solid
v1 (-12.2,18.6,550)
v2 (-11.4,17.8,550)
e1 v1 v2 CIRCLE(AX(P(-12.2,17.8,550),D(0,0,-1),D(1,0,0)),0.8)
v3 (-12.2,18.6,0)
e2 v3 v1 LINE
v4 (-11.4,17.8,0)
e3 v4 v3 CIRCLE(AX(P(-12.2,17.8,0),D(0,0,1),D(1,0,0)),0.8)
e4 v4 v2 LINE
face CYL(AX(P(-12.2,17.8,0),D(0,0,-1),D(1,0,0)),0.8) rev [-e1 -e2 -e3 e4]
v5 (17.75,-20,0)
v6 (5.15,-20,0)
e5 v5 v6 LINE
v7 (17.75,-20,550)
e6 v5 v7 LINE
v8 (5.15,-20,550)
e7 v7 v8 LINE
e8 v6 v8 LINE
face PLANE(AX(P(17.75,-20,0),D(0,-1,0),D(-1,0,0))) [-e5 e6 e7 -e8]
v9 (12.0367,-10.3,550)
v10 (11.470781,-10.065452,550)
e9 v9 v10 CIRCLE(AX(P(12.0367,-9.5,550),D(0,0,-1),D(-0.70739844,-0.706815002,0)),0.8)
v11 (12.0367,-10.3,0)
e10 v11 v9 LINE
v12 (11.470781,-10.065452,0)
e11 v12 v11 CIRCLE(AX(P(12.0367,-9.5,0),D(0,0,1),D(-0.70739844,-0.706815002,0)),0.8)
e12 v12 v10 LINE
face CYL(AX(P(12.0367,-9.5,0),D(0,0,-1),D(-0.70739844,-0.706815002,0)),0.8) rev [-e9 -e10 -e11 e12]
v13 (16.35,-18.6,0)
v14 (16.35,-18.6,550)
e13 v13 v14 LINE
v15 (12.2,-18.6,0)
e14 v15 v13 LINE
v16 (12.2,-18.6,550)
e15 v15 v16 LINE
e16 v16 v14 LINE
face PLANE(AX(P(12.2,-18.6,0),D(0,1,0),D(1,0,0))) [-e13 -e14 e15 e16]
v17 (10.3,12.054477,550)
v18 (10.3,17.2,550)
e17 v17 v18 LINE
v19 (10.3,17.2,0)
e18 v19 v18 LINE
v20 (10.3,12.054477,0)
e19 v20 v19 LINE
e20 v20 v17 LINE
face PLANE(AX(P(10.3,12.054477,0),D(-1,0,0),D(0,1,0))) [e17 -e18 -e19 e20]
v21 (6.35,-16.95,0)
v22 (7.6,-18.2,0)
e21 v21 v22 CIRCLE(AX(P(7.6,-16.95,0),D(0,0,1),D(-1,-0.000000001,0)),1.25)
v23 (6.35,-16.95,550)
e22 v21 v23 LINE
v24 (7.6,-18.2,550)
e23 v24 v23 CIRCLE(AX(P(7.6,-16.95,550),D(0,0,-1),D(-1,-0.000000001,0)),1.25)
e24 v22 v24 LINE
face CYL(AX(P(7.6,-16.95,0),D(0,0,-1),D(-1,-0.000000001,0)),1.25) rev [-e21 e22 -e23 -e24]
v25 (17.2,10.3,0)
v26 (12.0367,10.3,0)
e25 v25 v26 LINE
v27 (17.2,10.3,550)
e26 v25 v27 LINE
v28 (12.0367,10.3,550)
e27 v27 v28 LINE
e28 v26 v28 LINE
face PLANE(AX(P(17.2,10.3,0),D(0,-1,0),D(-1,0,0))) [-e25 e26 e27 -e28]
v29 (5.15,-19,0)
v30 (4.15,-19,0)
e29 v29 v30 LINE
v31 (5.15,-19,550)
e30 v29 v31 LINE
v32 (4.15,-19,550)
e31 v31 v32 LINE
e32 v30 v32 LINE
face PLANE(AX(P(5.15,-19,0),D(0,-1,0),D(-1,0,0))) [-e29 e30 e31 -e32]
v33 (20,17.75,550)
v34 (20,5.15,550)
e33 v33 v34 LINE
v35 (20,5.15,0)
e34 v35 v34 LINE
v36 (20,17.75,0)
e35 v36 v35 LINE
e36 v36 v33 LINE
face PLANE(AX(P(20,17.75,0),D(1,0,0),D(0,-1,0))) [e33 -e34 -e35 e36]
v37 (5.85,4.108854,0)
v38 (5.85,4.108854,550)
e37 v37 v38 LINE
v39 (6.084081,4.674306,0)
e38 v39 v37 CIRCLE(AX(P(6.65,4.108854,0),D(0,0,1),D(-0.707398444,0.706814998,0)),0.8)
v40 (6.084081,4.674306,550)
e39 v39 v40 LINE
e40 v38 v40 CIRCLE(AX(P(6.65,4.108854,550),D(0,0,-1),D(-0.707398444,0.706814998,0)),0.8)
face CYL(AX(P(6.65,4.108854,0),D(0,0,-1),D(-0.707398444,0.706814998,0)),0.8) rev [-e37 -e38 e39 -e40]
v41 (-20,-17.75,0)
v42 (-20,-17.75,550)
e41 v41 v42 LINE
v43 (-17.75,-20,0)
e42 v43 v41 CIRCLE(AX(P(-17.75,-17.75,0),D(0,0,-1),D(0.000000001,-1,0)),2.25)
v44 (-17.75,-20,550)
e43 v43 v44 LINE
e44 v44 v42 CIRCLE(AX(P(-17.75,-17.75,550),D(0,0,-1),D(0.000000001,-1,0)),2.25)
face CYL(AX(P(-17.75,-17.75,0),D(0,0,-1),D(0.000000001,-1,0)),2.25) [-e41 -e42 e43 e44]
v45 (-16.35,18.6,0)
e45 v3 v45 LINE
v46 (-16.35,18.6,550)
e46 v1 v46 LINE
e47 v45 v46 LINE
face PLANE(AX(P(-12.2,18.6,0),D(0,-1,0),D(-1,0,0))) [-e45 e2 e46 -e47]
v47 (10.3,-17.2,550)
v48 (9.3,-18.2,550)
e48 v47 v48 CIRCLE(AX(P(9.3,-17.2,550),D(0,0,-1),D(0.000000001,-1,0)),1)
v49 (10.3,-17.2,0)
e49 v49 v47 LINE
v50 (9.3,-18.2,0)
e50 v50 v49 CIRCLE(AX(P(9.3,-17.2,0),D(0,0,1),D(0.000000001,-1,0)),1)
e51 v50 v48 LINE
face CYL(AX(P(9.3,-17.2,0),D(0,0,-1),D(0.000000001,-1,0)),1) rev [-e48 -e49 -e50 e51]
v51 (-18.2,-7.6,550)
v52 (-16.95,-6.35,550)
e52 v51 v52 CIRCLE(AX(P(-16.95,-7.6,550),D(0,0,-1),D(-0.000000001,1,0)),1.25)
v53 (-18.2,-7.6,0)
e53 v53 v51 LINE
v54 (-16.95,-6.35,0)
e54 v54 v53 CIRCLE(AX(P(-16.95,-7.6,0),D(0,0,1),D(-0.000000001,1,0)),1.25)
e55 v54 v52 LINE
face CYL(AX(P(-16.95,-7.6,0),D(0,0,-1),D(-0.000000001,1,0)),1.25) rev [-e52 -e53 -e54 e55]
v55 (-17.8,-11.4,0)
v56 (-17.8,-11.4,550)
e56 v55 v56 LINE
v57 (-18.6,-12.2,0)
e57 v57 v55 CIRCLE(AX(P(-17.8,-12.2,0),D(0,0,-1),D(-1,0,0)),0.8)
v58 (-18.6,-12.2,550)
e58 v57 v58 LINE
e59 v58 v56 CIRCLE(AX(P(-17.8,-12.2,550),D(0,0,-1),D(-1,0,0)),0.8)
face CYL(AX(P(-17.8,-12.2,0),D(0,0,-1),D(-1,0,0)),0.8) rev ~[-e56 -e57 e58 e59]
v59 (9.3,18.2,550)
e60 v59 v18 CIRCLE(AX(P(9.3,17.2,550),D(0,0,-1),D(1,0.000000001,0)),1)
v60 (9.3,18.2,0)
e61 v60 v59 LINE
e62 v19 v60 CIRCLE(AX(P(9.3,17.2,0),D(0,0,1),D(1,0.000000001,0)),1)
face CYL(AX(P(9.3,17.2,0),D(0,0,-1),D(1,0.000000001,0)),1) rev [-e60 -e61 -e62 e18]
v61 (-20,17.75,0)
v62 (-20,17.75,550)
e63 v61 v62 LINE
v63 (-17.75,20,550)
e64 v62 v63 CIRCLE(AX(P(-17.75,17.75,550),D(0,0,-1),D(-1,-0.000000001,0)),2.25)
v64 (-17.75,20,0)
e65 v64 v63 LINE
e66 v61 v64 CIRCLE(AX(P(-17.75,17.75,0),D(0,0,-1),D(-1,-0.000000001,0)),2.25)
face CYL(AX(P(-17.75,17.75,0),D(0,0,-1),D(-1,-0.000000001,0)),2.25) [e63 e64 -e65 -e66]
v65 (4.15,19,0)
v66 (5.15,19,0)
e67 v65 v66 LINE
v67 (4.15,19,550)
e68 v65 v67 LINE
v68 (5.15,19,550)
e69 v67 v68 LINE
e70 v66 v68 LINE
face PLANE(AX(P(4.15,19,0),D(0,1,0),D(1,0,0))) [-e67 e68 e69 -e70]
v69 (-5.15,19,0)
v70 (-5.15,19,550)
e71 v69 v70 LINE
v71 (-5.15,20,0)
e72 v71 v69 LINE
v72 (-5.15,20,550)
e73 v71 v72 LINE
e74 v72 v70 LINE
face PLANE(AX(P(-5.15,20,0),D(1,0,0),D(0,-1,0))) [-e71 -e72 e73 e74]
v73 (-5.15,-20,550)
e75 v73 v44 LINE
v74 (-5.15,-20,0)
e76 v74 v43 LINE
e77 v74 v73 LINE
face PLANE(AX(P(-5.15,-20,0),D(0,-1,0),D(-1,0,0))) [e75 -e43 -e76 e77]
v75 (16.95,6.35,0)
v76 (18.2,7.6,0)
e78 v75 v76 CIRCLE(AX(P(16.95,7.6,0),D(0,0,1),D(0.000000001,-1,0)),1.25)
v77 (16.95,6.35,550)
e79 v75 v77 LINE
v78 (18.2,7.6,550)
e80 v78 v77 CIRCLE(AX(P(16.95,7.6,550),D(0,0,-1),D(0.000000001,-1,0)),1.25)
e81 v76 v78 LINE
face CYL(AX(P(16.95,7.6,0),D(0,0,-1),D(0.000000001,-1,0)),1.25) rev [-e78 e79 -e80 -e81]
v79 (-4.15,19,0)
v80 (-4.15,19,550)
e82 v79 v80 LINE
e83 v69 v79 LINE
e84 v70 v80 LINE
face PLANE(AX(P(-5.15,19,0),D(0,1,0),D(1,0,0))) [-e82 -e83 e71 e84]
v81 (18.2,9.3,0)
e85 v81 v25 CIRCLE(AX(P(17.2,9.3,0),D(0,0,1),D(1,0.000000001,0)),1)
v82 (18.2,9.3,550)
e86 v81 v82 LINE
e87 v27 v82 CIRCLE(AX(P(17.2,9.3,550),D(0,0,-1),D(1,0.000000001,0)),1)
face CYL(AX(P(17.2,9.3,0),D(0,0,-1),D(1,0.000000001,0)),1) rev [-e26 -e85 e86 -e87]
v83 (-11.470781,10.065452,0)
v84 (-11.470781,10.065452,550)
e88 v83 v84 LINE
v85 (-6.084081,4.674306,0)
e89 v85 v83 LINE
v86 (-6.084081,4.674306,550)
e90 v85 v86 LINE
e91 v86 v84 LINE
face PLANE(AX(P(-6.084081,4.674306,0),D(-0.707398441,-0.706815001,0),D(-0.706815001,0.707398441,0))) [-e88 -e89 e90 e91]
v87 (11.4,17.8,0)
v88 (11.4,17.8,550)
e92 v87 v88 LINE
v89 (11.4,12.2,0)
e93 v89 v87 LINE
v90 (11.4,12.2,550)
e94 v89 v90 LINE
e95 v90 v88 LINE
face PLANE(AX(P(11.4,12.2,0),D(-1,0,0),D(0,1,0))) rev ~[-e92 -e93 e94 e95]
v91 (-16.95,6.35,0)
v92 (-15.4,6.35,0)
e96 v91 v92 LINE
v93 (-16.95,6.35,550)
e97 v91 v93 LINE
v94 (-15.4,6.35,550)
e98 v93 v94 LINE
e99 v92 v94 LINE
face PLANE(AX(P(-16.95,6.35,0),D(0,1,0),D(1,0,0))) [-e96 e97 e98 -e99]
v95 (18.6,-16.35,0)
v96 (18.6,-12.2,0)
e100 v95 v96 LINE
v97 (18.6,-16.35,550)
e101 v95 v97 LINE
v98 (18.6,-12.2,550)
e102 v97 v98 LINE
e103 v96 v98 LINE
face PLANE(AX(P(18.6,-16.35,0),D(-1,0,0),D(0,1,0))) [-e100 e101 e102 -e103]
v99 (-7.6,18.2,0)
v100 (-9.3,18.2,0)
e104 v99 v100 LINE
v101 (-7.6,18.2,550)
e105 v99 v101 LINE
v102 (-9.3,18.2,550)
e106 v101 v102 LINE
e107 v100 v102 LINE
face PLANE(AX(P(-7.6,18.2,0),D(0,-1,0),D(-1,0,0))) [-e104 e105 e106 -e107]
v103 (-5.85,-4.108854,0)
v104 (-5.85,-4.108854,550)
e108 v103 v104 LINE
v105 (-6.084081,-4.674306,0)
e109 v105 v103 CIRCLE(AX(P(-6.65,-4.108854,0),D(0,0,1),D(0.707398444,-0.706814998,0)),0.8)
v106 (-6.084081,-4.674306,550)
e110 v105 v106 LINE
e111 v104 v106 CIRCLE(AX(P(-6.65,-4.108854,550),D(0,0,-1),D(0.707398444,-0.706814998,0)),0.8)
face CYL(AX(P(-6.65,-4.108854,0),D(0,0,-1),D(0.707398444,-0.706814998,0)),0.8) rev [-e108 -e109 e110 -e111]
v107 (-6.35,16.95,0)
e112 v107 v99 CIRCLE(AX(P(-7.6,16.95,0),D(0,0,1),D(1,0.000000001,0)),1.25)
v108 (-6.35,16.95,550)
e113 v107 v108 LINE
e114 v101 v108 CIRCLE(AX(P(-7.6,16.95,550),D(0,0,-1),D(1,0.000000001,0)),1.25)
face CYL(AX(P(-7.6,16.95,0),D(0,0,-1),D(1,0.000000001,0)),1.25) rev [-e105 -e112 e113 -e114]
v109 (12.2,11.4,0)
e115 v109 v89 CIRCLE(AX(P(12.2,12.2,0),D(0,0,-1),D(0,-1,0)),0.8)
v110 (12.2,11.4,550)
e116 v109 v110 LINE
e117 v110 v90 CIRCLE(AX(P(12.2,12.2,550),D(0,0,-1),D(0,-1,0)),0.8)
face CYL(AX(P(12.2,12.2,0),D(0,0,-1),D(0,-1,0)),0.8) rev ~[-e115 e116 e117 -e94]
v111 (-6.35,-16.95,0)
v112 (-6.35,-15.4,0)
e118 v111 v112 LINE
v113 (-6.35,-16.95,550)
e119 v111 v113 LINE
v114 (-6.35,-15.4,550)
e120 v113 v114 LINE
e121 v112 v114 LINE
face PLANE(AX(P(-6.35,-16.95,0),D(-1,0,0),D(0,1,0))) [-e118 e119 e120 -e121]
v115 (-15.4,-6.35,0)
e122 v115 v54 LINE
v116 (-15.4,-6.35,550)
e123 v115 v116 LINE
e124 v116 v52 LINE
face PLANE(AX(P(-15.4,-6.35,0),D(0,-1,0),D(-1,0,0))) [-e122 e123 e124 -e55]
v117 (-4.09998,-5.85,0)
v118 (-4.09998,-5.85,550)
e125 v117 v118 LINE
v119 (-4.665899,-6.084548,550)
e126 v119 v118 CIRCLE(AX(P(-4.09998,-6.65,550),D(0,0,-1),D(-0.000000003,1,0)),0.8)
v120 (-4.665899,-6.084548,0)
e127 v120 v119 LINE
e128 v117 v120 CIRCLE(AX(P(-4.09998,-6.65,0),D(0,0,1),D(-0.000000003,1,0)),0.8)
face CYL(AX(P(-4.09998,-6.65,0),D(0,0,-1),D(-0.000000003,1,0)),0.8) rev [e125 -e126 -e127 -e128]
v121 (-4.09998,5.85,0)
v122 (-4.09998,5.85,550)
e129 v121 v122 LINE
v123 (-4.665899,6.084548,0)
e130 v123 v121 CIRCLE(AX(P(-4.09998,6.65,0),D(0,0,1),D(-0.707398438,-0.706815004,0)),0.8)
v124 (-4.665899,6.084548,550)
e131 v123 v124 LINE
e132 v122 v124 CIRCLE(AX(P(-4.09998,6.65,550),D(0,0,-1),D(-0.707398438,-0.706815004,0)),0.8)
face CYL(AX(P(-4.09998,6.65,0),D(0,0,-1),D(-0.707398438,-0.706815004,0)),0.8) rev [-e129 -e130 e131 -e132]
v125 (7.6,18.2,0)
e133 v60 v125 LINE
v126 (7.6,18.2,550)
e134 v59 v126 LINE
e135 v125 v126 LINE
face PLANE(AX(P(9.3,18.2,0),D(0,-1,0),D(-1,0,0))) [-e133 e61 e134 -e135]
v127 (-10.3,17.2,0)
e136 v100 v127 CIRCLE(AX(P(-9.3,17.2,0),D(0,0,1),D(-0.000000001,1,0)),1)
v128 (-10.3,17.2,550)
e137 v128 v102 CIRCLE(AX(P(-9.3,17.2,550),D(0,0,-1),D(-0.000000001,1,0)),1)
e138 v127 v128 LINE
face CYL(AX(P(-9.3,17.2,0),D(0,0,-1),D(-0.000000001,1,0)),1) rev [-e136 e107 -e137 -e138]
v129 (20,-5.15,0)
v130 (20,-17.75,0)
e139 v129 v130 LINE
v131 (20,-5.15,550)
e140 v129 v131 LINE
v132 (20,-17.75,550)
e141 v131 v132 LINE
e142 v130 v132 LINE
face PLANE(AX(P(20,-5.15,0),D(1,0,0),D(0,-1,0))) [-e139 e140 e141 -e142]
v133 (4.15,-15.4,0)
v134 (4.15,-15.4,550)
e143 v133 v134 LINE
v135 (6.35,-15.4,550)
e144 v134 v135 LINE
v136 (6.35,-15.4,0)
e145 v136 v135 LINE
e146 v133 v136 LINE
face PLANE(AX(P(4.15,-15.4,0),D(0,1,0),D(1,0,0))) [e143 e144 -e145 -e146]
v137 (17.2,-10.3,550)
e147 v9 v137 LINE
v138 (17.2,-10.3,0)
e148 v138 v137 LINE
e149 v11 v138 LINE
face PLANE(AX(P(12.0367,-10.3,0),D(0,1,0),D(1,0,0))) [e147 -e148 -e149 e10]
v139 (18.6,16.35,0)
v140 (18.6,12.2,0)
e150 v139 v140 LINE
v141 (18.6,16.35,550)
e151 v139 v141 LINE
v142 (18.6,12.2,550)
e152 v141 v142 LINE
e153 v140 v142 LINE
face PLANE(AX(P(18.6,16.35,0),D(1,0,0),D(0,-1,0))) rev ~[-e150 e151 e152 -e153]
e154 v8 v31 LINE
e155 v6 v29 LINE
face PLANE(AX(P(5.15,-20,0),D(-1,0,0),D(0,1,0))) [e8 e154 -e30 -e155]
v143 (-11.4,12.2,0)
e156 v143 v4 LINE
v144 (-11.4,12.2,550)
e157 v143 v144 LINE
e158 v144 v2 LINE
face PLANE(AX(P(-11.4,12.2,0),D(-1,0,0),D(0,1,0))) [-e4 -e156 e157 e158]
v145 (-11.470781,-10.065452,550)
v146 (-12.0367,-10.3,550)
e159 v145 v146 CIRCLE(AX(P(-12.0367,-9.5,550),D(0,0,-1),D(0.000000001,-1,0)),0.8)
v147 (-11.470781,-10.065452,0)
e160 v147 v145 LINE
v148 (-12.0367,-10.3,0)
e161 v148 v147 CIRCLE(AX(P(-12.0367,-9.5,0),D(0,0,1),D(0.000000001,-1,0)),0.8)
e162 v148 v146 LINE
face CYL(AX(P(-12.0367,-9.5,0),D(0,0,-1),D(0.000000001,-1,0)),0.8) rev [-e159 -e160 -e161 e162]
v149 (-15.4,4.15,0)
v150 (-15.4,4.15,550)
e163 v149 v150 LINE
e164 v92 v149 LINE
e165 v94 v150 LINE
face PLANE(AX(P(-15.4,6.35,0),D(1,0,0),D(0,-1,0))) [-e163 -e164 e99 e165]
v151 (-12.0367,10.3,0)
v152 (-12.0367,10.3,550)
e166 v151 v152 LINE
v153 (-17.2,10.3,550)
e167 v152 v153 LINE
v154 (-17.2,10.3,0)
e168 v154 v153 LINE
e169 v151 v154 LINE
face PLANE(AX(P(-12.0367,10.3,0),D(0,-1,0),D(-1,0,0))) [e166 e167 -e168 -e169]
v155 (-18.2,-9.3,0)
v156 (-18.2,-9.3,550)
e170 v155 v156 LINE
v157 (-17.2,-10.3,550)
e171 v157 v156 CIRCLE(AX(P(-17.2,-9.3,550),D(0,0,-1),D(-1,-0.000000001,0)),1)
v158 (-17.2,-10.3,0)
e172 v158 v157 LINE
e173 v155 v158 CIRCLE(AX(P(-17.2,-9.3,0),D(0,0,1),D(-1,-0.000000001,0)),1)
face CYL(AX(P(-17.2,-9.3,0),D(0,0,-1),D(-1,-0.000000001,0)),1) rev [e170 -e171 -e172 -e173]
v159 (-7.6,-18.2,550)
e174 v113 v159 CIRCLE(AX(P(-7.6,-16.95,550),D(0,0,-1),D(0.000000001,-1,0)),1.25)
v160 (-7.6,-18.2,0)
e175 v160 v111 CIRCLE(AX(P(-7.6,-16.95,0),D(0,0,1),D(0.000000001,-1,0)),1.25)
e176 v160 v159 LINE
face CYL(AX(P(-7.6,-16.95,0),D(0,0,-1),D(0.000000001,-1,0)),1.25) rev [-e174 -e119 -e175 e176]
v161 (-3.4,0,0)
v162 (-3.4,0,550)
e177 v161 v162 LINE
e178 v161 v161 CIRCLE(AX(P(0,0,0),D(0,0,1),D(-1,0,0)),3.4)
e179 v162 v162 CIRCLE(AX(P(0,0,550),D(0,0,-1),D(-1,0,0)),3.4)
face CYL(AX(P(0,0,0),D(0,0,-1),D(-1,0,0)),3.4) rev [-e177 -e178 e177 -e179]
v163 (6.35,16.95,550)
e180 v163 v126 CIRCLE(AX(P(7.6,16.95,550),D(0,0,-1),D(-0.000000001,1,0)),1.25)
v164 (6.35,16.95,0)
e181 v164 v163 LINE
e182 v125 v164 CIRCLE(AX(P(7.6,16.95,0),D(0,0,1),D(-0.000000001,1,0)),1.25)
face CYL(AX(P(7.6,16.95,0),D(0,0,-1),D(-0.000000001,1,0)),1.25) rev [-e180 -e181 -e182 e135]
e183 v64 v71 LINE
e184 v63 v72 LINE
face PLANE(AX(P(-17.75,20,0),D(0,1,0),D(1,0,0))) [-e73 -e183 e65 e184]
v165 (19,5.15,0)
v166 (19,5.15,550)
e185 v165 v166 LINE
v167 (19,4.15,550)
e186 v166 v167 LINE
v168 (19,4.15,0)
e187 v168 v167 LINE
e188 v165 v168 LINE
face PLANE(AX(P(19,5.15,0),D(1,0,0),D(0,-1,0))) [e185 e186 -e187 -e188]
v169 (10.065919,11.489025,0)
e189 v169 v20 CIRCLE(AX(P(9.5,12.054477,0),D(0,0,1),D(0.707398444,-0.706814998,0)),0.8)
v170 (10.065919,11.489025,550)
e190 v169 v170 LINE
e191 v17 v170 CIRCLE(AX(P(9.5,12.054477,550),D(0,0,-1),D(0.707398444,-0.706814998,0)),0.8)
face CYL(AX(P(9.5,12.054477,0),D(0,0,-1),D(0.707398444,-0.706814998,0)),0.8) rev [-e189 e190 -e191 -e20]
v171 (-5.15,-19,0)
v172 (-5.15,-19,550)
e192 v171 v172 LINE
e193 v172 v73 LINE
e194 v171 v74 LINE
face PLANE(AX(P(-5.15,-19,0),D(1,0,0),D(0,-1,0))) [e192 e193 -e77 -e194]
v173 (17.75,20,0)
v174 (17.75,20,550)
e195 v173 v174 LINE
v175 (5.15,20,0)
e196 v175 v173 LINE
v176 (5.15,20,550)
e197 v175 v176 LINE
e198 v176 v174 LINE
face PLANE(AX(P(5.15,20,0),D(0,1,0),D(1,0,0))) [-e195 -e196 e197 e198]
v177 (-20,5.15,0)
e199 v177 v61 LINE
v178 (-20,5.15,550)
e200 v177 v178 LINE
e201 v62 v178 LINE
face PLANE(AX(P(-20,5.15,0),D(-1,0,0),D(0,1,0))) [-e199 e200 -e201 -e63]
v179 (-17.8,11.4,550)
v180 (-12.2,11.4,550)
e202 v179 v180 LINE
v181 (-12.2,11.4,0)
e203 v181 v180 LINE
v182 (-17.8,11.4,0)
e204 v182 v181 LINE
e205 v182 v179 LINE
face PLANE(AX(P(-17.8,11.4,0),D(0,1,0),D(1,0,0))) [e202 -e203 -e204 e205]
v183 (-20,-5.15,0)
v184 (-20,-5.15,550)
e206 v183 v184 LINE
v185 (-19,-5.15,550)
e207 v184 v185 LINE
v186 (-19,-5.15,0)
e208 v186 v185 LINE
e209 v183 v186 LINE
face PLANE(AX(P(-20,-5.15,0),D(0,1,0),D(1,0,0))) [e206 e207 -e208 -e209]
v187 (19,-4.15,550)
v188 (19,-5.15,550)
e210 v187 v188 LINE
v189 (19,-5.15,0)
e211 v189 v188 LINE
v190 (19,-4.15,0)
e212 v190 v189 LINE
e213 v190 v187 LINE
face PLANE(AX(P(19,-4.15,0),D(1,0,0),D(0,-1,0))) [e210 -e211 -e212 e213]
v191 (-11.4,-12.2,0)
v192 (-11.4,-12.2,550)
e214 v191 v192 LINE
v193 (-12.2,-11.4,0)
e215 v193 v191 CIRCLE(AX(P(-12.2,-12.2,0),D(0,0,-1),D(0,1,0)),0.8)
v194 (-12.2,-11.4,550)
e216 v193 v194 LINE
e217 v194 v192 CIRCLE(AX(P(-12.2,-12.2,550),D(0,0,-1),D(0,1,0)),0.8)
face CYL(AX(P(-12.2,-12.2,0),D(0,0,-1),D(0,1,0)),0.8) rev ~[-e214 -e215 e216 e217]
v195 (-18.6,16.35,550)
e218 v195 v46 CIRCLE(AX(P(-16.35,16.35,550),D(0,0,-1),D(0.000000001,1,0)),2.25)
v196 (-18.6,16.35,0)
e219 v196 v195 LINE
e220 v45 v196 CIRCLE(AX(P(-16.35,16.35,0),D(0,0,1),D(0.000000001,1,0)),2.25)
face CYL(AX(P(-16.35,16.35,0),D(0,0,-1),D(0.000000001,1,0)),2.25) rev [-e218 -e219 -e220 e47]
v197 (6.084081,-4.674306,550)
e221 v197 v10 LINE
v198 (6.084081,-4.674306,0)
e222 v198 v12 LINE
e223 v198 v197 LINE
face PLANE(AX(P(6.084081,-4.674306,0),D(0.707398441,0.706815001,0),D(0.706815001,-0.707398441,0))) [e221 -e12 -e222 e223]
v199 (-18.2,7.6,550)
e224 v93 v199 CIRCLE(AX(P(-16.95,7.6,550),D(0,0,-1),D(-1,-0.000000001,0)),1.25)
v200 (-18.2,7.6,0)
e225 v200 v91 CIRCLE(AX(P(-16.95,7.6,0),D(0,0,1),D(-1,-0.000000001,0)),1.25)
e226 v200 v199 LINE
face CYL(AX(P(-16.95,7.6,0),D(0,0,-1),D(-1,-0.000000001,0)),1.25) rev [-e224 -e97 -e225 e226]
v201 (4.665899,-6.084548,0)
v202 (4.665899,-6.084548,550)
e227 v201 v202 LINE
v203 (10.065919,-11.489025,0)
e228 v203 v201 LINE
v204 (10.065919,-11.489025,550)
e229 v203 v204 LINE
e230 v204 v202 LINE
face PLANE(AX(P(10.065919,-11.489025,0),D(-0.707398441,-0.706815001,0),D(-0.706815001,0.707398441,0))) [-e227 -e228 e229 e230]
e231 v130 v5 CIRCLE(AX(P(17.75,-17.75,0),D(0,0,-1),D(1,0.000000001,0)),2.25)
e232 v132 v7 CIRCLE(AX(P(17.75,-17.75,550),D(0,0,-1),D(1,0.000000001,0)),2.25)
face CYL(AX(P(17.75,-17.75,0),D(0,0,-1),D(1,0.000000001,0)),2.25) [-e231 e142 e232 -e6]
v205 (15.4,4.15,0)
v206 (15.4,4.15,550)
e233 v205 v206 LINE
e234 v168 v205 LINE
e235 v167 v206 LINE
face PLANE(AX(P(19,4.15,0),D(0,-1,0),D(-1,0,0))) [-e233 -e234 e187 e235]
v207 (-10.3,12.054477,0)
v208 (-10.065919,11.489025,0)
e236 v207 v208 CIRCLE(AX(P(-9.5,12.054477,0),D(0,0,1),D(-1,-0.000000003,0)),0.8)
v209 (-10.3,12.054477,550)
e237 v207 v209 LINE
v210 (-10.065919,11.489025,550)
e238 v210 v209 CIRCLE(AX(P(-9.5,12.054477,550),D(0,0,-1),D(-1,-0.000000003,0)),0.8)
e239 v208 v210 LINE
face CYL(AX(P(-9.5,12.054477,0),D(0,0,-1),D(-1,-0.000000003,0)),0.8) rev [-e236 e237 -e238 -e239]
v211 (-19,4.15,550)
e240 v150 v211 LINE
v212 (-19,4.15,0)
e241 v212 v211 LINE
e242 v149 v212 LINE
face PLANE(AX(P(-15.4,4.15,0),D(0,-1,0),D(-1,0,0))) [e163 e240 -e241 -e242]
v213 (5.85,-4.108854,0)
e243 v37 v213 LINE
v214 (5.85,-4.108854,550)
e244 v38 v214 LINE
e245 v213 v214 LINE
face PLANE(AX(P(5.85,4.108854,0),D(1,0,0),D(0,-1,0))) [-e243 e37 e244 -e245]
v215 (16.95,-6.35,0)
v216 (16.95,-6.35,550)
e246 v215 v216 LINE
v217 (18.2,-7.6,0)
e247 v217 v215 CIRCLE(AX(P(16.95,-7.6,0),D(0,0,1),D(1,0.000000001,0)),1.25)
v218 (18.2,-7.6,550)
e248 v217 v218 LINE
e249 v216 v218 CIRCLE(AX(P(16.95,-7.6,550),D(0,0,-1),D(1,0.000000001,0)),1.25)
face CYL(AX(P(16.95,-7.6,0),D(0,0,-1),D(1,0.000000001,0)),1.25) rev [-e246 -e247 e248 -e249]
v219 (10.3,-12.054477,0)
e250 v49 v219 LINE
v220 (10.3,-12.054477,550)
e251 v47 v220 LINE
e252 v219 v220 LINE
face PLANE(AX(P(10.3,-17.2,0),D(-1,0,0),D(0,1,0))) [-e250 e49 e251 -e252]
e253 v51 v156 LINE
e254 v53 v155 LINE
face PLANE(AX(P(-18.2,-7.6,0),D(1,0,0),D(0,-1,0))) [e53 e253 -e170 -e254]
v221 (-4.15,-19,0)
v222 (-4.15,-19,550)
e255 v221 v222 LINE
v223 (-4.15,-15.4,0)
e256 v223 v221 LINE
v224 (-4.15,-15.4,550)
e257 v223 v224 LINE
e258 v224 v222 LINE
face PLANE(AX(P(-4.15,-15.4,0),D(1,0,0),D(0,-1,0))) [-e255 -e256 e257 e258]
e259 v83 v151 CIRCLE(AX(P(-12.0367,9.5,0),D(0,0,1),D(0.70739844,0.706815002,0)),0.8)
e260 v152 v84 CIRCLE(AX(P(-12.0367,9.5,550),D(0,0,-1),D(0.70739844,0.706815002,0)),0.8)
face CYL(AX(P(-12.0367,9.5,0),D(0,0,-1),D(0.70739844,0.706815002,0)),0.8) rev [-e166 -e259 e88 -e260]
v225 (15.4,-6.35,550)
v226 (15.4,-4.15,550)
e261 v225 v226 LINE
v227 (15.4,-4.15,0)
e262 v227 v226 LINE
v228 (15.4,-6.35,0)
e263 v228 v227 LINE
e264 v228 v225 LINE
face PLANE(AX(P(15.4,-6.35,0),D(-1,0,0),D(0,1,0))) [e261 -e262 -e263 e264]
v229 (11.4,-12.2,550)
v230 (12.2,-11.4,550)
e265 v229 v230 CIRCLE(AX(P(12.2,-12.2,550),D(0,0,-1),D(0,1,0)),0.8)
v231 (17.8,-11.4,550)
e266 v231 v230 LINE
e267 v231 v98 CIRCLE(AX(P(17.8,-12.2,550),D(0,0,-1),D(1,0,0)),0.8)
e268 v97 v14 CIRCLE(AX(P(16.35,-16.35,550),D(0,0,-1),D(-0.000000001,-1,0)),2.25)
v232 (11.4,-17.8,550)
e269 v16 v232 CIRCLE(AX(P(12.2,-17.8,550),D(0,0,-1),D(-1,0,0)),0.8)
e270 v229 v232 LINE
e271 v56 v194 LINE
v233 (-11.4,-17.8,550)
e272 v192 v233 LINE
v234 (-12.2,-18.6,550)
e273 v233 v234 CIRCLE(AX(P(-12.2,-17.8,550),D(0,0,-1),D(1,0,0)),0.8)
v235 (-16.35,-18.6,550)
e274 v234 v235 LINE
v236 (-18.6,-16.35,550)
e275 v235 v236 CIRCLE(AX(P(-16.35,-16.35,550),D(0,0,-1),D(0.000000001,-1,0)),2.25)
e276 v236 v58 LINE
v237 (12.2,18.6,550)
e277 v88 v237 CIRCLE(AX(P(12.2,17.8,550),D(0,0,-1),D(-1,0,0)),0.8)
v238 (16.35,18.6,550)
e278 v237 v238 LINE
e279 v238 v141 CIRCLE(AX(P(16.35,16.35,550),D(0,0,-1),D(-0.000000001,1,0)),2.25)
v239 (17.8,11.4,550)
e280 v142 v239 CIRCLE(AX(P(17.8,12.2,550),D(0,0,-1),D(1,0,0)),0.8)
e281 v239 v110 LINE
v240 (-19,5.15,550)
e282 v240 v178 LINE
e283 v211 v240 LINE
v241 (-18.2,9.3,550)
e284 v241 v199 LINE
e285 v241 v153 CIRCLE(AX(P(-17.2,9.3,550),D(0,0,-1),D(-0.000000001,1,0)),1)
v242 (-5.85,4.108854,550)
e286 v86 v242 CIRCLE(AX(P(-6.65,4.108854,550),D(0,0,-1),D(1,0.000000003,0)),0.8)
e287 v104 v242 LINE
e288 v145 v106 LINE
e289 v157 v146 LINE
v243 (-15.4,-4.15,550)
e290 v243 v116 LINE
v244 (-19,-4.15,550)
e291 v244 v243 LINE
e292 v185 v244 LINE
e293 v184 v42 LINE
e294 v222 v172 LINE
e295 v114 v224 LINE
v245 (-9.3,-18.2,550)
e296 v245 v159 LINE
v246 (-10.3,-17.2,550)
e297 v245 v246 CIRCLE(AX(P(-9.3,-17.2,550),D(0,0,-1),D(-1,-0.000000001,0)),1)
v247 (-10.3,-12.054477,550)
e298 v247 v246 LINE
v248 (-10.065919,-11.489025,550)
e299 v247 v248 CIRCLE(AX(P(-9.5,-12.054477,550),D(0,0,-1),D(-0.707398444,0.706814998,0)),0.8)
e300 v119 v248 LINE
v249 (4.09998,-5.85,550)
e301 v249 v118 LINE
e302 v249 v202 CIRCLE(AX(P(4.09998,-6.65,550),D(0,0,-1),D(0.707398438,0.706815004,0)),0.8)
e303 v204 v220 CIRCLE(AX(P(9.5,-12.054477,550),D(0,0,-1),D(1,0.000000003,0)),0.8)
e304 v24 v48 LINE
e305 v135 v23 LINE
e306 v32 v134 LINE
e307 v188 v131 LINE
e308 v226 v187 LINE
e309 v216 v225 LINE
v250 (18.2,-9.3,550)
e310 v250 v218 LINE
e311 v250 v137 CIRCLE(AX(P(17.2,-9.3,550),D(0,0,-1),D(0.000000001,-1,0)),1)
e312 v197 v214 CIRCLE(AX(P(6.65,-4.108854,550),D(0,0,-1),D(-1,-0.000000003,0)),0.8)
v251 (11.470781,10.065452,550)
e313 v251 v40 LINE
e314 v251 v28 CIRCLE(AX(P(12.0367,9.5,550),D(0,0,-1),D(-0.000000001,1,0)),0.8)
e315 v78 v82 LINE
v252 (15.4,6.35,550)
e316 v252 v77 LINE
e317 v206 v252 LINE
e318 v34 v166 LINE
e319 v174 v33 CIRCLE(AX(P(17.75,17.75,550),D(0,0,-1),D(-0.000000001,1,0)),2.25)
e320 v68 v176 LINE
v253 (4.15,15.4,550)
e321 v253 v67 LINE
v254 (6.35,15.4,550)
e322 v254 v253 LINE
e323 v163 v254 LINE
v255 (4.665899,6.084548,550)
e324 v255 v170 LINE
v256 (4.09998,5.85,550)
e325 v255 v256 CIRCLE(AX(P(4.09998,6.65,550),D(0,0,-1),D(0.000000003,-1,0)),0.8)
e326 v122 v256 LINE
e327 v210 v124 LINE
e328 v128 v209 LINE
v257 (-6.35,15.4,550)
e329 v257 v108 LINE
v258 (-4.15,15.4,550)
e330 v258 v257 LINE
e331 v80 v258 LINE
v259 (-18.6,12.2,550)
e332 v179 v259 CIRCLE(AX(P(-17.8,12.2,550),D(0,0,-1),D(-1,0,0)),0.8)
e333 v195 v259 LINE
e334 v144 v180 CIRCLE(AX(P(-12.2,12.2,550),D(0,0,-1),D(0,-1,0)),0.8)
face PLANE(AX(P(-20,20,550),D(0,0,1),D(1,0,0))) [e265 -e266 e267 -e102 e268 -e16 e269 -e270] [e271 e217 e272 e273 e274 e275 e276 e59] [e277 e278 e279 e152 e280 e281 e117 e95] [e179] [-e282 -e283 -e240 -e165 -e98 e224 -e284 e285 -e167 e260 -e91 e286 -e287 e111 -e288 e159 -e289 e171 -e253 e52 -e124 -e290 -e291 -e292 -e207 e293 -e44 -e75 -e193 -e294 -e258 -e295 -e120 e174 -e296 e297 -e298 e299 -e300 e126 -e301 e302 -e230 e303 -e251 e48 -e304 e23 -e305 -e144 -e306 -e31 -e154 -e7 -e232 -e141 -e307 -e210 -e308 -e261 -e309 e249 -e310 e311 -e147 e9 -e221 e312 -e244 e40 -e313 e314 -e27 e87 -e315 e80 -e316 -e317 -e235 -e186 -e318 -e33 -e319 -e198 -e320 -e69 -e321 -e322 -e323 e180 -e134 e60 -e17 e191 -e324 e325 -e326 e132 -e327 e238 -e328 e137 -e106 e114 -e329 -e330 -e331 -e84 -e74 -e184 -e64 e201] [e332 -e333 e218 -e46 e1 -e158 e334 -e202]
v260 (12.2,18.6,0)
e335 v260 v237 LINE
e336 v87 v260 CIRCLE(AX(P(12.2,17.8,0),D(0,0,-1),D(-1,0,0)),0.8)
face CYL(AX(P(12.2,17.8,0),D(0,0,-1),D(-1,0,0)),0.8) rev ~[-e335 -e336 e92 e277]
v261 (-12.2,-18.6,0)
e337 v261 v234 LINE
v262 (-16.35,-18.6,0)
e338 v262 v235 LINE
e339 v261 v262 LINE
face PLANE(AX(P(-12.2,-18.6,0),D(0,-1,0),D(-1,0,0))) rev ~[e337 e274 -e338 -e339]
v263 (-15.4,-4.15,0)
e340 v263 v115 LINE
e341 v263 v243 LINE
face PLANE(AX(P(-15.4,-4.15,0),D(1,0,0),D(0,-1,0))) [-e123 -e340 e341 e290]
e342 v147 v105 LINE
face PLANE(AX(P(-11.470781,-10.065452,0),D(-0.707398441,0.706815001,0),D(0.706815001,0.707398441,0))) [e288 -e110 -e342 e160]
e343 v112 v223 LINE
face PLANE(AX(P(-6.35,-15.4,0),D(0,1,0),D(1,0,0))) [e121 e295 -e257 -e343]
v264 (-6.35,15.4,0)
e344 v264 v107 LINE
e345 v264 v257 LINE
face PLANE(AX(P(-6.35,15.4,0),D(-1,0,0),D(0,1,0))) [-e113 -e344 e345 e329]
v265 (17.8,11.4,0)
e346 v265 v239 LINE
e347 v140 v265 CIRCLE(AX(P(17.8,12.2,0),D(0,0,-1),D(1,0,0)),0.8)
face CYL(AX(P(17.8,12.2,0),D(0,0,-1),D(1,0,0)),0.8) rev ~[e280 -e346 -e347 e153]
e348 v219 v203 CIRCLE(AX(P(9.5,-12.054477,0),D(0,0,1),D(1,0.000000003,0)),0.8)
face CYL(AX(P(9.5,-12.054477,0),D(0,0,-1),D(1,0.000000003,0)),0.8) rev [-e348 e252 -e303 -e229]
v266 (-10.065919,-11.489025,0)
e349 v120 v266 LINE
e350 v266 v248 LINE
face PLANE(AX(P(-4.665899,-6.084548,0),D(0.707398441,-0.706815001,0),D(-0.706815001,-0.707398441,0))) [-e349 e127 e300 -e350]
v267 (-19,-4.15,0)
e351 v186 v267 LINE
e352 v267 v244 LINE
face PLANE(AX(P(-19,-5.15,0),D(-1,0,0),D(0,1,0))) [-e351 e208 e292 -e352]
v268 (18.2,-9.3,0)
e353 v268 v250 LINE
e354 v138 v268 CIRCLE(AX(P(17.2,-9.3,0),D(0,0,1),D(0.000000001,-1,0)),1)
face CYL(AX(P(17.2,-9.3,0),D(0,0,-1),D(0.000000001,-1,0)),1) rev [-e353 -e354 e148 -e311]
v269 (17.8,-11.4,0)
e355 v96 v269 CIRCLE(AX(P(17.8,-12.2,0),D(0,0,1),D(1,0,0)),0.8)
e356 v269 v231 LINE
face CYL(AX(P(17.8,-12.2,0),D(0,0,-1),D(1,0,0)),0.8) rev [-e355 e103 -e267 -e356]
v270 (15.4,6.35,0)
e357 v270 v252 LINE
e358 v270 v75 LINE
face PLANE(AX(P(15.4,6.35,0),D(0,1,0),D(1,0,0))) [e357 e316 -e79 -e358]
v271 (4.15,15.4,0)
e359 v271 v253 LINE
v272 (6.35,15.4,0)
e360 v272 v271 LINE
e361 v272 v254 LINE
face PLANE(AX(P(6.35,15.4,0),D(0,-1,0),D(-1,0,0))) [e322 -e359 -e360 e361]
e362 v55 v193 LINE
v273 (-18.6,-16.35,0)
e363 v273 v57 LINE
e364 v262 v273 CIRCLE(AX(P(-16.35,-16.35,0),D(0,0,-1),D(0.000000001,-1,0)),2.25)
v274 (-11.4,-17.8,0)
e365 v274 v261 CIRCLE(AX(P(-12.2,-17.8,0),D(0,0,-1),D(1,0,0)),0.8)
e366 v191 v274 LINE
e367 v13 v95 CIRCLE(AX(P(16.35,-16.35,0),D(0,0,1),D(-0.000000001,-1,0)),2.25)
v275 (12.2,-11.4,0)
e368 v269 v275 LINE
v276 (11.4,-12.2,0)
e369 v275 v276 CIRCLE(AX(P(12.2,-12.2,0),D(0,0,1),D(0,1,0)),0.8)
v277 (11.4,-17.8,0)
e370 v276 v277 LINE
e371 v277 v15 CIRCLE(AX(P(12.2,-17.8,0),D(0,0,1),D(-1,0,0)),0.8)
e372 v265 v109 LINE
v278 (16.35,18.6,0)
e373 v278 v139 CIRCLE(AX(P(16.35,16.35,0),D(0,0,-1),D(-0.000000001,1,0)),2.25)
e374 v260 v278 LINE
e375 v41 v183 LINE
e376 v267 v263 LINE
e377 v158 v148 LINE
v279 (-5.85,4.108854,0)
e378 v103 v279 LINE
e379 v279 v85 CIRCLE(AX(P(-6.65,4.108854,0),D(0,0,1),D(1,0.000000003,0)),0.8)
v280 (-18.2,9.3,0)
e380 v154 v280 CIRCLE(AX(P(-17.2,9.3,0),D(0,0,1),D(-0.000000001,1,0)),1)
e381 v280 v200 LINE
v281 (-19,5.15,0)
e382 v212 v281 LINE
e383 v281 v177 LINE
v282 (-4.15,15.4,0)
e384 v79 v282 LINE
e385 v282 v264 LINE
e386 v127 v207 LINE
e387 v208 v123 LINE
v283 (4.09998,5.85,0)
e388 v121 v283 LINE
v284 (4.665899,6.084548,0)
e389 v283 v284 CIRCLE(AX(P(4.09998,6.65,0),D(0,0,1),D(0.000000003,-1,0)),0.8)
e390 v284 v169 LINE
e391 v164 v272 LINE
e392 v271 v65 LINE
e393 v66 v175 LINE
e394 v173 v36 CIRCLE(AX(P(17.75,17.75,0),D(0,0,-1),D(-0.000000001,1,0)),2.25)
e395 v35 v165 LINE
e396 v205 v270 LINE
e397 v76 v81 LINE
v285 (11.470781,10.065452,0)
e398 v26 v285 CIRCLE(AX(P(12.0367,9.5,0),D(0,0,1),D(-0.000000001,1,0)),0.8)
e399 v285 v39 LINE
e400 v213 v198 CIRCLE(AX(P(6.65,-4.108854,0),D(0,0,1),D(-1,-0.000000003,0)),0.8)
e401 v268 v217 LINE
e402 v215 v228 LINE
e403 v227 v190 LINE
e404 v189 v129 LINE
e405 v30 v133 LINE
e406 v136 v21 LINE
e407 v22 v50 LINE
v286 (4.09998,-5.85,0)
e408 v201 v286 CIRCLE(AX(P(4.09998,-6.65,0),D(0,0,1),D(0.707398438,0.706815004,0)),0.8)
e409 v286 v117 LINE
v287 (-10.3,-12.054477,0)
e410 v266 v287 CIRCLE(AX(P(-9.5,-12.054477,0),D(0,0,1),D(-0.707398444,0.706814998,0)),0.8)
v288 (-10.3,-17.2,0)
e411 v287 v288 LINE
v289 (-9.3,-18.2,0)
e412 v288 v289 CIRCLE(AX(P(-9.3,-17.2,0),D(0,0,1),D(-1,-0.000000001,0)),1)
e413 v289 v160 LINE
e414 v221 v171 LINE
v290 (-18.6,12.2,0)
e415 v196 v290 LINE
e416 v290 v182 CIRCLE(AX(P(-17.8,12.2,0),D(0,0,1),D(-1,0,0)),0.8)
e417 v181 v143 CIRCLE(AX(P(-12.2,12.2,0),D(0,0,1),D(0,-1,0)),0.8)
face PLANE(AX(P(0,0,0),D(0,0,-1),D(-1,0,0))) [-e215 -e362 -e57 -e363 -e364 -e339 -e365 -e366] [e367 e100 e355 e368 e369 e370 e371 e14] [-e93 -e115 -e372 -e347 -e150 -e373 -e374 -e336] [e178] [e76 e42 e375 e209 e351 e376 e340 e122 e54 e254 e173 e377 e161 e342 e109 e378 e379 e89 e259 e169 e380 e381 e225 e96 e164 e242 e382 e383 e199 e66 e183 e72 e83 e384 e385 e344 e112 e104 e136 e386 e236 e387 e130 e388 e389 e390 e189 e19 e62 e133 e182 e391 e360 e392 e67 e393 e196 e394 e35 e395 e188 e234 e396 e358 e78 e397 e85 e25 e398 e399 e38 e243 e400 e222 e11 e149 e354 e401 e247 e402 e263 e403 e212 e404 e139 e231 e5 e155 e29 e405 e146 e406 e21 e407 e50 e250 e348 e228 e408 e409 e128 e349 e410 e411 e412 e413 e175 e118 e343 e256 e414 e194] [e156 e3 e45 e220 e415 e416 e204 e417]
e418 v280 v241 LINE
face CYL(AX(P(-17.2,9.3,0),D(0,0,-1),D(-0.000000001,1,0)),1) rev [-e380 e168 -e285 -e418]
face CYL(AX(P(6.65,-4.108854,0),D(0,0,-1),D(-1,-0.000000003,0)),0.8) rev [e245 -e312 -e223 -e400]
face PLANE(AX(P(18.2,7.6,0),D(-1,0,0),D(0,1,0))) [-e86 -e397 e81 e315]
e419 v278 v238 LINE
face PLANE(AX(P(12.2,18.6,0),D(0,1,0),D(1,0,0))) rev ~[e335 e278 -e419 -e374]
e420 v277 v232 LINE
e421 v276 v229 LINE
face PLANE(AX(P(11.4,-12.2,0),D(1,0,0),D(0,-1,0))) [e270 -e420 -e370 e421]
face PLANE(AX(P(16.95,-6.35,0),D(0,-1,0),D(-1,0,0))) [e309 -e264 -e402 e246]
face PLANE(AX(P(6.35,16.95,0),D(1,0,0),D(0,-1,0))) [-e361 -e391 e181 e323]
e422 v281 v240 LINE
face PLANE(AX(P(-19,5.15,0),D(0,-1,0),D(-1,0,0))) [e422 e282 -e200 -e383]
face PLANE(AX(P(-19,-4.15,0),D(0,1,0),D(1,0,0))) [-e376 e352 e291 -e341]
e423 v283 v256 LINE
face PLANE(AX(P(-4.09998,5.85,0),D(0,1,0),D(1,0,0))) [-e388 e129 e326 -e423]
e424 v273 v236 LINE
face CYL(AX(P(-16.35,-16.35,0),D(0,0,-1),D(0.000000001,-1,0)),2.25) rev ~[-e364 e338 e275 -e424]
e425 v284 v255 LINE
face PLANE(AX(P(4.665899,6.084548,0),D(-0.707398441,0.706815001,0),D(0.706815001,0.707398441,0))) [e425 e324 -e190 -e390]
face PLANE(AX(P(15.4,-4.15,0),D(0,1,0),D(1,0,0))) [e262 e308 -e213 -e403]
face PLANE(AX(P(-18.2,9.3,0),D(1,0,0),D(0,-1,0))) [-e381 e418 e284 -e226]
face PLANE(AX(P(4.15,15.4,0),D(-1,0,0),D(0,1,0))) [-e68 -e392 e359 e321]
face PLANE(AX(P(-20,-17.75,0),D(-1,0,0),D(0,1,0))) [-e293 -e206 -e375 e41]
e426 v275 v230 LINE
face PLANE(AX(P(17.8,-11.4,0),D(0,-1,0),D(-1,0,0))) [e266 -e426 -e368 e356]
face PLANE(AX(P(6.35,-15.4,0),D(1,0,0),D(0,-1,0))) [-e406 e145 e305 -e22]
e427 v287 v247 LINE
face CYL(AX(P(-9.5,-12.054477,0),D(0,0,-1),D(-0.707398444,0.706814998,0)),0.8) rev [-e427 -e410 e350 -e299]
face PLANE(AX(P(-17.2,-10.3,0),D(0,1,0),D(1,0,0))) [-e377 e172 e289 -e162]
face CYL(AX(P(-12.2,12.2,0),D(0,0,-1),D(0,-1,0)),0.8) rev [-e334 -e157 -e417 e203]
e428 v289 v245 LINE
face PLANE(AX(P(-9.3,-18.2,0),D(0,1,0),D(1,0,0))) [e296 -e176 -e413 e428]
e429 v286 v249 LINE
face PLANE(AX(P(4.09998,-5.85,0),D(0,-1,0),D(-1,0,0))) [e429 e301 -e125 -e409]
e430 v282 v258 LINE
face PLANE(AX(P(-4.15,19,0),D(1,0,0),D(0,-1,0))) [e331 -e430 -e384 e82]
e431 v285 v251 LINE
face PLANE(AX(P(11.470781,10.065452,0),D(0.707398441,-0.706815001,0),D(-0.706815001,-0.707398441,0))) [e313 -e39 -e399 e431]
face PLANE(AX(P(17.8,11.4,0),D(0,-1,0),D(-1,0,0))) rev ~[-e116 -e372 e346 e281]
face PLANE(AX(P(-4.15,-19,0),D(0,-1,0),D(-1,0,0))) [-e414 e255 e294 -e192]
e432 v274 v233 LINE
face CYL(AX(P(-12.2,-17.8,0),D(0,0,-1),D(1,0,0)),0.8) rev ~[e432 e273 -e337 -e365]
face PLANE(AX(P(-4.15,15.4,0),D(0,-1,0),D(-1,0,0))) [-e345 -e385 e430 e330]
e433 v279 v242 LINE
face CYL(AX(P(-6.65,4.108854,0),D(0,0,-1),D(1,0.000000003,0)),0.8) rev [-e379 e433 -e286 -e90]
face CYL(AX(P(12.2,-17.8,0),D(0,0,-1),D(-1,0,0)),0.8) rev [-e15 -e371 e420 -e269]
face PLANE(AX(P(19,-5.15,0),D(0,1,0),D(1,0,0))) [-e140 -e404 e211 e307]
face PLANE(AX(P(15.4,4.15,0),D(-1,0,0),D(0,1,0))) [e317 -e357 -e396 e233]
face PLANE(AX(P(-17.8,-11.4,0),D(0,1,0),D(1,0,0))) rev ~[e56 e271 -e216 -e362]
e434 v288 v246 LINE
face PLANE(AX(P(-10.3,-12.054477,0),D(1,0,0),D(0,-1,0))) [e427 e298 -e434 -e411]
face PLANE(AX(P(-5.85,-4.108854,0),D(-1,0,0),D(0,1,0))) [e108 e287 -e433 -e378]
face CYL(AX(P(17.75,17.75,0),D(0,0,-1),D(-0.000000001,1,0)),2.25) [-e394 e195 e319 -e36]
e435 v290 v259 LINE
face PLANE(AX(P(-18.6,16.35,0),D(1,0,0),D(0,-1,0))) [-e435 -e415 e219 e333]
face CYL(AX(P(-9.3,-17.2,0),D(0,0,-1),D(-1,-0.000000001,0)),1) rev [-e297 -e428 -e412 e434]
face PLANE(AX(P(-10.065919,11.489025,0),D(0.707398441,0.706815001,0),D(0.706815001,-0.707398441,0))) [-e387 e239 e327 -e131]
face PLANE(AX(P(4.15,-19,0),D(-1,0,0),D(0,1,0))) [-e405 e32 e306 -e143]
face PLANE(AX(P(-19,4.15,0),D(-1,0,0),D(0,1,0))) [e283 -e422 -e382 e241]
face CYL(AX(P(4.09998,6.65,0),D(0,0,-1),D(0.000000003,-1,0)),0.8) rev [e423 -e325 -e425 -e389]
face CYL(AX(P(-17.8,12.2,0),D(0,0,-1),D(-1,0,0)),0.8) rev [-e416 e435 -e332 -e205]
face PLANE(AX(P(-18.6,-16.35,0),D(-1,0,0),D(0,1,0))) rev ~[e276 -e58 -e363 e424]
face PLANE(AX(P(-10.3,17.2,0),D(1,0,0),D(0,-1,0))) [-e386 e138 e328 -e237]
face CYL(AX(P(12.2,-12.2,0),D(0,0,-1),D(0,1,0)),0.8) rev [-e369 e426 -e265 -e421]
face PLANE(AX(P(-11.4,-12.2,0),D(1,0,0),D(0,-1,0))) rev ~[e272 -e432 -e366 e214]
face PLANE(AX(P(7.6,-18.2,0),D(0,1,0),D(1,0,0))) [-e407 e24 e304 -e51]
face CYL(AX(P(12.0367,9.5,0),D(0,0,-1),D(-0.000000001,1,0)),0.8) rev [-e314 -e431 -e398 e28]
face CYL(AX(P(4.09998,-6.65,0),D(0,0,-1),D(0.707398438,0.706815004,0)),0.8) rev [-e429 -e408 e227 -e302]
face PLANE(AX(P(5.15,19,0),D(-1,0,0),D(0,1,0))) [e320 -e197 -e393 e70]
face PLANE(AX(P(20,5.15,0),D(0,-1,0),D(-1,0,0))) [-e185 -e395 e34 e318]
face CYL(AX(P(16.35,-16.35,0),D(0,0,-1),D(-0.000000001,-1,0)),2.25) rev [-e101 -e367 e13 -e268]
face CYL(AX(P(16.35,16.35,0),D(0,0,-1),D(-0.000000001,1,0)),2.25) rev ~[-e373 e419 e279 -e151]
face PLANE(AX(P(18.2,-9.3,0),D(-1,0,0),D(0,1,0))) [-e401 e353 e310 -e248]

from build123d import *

# Parameters (mm, degrees)
SKETCH1_R           = 3.4
BOSS_EXTRUDE1_DEPTH = 713
SKETCH2_W           = 40
SKETCH2_H           = 163
CUT_EXTRUDE1_DEPTH  = 715.401147815


with BuildPart() as part:
    # Sketch1 → Boss-Extrude1 (new body)
    with BuildSketch(Plane.XY):
        with BuildLine():
            Line((20, 17.75), (20, 5.15))
            Line((20, 5.15), (19, 5.15))
            Line((19, 5.15), (19, 4.15))
            Line((19, 4.15), (15.4, 4.15))
            Line((15.4, 4.15), (15.4, 6.35))
            Line((15.4, 6.35), (16.95, 6.35))
            ThreePointArc((16.95, 6.35), (17.833883476, 6.716116524), (18.2, 7.6))
            Line((18.2, 7.6), (18.2, 9.3))
            ThreePointArc((18.2, 9.3), (17.907106781, 10.007106781), (17.2, 10.3))
            Line((17.2, 10.3), (12.03669957, 10.3))
            ThreePointArc((12.03669957, 10.3), (11.73040037, 10.239040459), (11.470780817, 10.065452001))
            Line((11.470780817, 10.065452001), (6.084081247, 4.674305984))
            ThreePointArc((6.084081247, 4.674305984), (5.910833239, 4.414848262), (5.85, 4.108853983))
            Line((5.85, 4.108853983), (5.85, -4.108853983))
            ThreePointArc((5.85, -4.108853983), (5.910833239, -4.414848262), (6.084081247, -4.674305984))
            Line((6.084081247, -4.674305984), (11.470780817, -10.065452001))
            ThreePointArc((11.470780817, -10.065452001), (11.73040037, -10.239040459), (12.03669957, -10.3))
            Line((12.03669957, -10.3), (17.2, -10.3))
            ThreePointArc((17.2, -10.3), (17.907106781, -10.007106781), (18.2, -9.3))
            Line((18.2, -9.3), (18.2, -7.6))
            ThreePointArc((18.2, -7.6), (17.833883476, -6.716116524), (16.95, -6.35))
            Line((16.95, -6.35), (15.4, -6.35))
            Line((15.4, -6.35), (15.4, -4.15))
            Line((15.4, -4.15), (19, -4.15))
            Line((19, -4.15), (19, -5.15))
            Line((19, -5.15), (20, -5.15))
            Line((20, -5.15), (20, -17.75))
            ThreePointArc((20, -17.75), (19.340990258, -19.340990258), (17.75, -20))
            Line((17.75, -20), (5.15, -20))
            Line((5.15, -20), (5.15, -19))
            Line((5.15, -19), (4.15, -19))
            Line((4.15, -19), (4.15, -15.4))
            Line((4.15, -15.4), (6.35, -15.4))
            Line((6.35, -15.4), (6.35, -16.95))
            ThreePointArc((6.35, -16.95), (6.716116524, -17.833883476), (7.6, -18.2))
            Line((7.6, -18.2), (9.3, -18.2))
            ThreePointArc((9.3, -18.2), (10.007106781, -17.907106781), (10.3, -17.2))
            Line((10.3, -17.2), (10.3, -12.054477022))
            ThreePointArc((10.3, -12.054477022), (10.239166761, -11.748482743), (10.065918753, -11.489025021))
            Line((10.065918753, -11.489025021), (4.665899173, -6.084547999))
            ThreePointArc((4.665899173, -6.084547999), (4.406279619, -5.910959541), (4.09998042, -5.85))
            Line((4.09998042, -5.85), (-4.09998042, -5.85))
            ThreePointArc((-4.09998042, -5.85), (-4.406279619, -5.910959541), (-4.665899173, -6.084547999))
            Line((-4.665899173, -6.084547999), (-10.065918753, -11.489025021))
            ThreePointArc((-10.065918753, -11.489025021), (-10.239166761, -11.748482743), (-10.3, -12.054477022))
            Line((-10.3, -12.054477022), (-10.3, -17.2))
            ThreePointArc((-10.3, -17.2), (-10.007106781, -17.907106781), (-9.3, -18.2))
            Line((-9.3, -18.2), (-7.6, -18.2))
            ThreePointArc((-7.6, -18.2), (-6.716116524, -17.833883476), (-6.35, -16.95))
            Line((-6.35, -16.95), (-6.35, -15.4))
            Line((-6.35, -15.4), (-4.15, -15.4))
            Line((-4.15, -15.4), (-4.15, -19))
            Line((-4.15, -19), (-5.15, -19))
            Line((-5.15, -19), (-5.15, -20))
            Line((-5.15, -20), (-17.75, -20))
            ThreePointArc((-17.75, -20), (-19.340990258, -19.340990258), (-20, -17.75))
            Line((-20, -17.75), (-20, -5.15))
            Line((-20, -5.15), (-19, -5.15))
            Line((-19, -5.15), (-19, -4.15))
            Line((-19, -4.15), (-15.4, -4.15))
            Line((-15.4, -4.15), (-15.4, -6.35))
            Line((-15.4, -6.35), (-16.95, -6.35))
            ThreePointArc((-16.95, -6.35), (-17.833883476, -6.716116524), (-18.2, -7.6))
            Line((-18.2, -7.6), (-18.2, -9.3))
            ThreePointArc((-18.2, -9.3), (-17.907106781, -10.007106781), (-17.2, -10.3))
            Line((-17.2, -10.3), (-12.03669957, -10.3))
            ThreePointArc((-12.03669957, -10.3), (-11.73040037, -10.239040459), (-11.470780817, -10.065452001))
            Line((-11.470780817, -10.065452001), (-6.084081247, -4.674305984))
            ThreePointArc((-6.084081247, -4.674305984), (-5.910833239, -4.414848262), (-5.85, -4.108853983))
            Line((-5.85, -4.108853983), (-5.85, 4.108853983))
            ThreePointArc((-5.85, 4.108853983), (-5.910833239, 4.414848262), (-6.084081247, 4.674305984))
            Line((-6.084081247, 4.674305984), (-11.470780817, 10.065452001))
            ThreePointArc((-11.470780817, 10.065452001), (-11.73040037, 10.239040459), (-12.03669957, 10.3))
            Line((-12.03669957, 10.3), (-17.2, 10.3))
            ThreePointArc((-17.2, 10.3), (-17.907106781, 10.007106781), (-18.2, 9.3))
            Line((-18.2, 9.3), (-18.2, 7.6))
            ThreePointArc((-18.2, 7.6), (-17.833883476, 6.716116524), (-16.95, 6.35))
            Line((-16.95, 6.35), (-15.4, 6.35))
            Line((-15.4, 6.35), (-15.4, 4.15))
            Line((-15.4, 4.15), (-19, 4.15))
            Line((-19, 4.15), (-19, 5.15))
            Line((-19, 5.15), (-20, 5.15))
            Line((-20, 5.15), (-20, 17.75))
            ThreePointArc((-20, 17.75), (-19.340990258, 19.340990258), (-17.75, 20))
            Line((-17.75, 20), (-5.15, 20))
            Line((-5.15, 20), (-5.15, 19))
            Line((-5.15, 19), (-4.15, 19))
            Line((-4.15, 19), (-4.15, 15.4))
            Line((-4.15, 15.4), (-6.35, 15.4))
            Line((-6.35, 15.4), (-6.35, 16.95))
            ThreePointArc((-6.35, 16.95), (-6.716116524, 17.833883476), (-7.6, 18.2))
            Line((-7.6, 18.2), (-9.3, 18.2))
            ThreePointArc((-9.3, 18.2), (-10.007106781, 17.907106781), (-10.3, 17.2))
            Line((-10.3, 17.2), (-10.3, 12.054477022))
            ThreePointArc((-10.3, 12.054477022), (-10.239166761, 11.748482743), (-10.065918753, 11.489025021))
            Line((-10.065918753, 11.489025021), (-4.665899173, 6.084547999))
            ThreePointArc((-4.665899173, 6.084547999), (-4.406279619, 5.910959541), (-4.09998042, 5.85))
            Line((-4.09998042, 5.85), (4.09998042, 5.85))
            ThreePointArc((4.09998042, 5.85), (4.406279619, 5.910959541), (4.665899173, 6.084547999))
            Line((4.665899173, 6.084547999), (10.065918753, 11.489025021))
            ThreePointArc((10.065918753, 11.489025021), (10.239166761, 11.748482743), (10.3, 12.054477022))
            Line((10.3, 12.054477022), (10.3, 17.2))
            ThreePointArc((10.3, 17.2), (10.007106781, 17.907106781), (9.3, 18.2))
            Line((9.3, 18.2), (7.6, 18.2))
            ThreePointArc((7.6, 18.2), (6.716116524, 17.833883476), (6.35, 16.95))
            Line((6.35, 16.95), (6.35, 15.4))
            Line((6.35, 15.4), (4.15, 15.4))
            Line((4.15, 15.4), (4.15, 19))
            Line((4.15, 19), (5.15, 19))
            Line((5.15, 19), (5.15, 20))
            Line((5.15, 20), (17.75, 20))
            ThreePointArc((17.75, 20), (19.340990258, 19.340990258), (20, 17.75))
        make_face()
        with Locations(Location((0, 0, 0), (0, 0, 180))):
            Circle(SKETCH1_R, mode=Mode.SUBTRACT)
        with BuildLine():
            Line((18.6, 16.35), (18.6, 12.2))
            ThreePointArc((18.6, 12.2), (18.365685425, 11.634314575), (17.8, 11.4))
            Line((17.8, 11.4), (12.2, 11.4))
            ThreePointArc((12.2, 11.4), (11.634314575, 11.634314575), (11.4, 12.2))
            Line((11.4, 12.2), (11.4, 17.8))
            ThreePointArc((11.4, 17.8), (11.634314575, 18.365685425), (12.2, 18.6))
            Line((12.2, 18.6), (16.35, 18.6))
            ThreePointArc((16.35, 18.6), (17.940990258, 17.940990258), (18.6, 16.35))
        make_face(mode=Mode.SUBTRACT)
        with BuildLine():
            Line((-12.2, 18.6), (-16.35, 18.6))
            ThreePointArc((-16.35, 18.6), (-17.940990258, 17.940990258), (-18.6, 16.35))
            Line((-18.6, 16.35), (-18.6, 12.2))
            ThreePointArc((-18.6, 12.2), (-18.365685425, 11.634314575), (-17.8, 11.4))
            Line((-17.8, 11.4), (-12.2, 11.4))
            ThreePointArc((-12.2, 11.4), (-11.634314575, 11.634314575), (-11.4, 12.2))
            Line((-11.4, 12.2), (-11.4, 17.8))
            ThreePointArc((-11.4, 17.8), (-11.634314575, 18.365685425), (-12.2, 18.6))
        make_face(mode=Mode.SUBTRACT)
        with BuildLine():
            Line((-18.6, -16.35), (-18.6, -12.2))
            ThreePointArc((-18.6, -12.2), (-18.365685425, -11.634314575), (-17.8, -11.4))
            Line((-17.8, -11.4), (-12.2, -11.4))
            ThreePointArc((-12.2, -11.4), (-11.634314575, -11.634314575), (-11.4, -12.2))
            Line((-11.4, -12.2), (-11.4, -17.8))
            ThreePointArc((-11.4, -17.8), (-11.634314575, -18.365685425), (-12.2, -18.6))
            Line((-12.2, -18.6), (-16.35, -18.6))
            ThreePointArc((-16.35, -18.6), (-17.940990258, -17.940990258), (-18.6, -16.35))
        make_face(mode=Mode.SUBTRACT)
        with BuildLine():
            Line((12.2, -18.6), (16.35, -18.6))
            ThreePointArc((16.35, -18.6), (17.940990258, -17.940990258), (18.6, -16.35))
            Line((18.6, -16.35), (18.6, -12.2))
            ThreePointArc((18.6, -12.2), (18.365685425, -11.634314575), (17.8, -11.4))
            Line((17.8, -11.4), (12.2, -11.4))
            ThreePointArc((12.2, -11.4), (11.634314575, -11.634314575), (11.4, -12.2))
            Line((11.4, -12.2), (11.4, -17.8))
            ThreePointArc((11.4, -17.8), (11.634314575, -18.365685425), (12.2, -18.6))
        make_face(mode=Mode.SUBTRACT)
    extrude(amount=BOSS_EXTRUDE1_DEPTH)

    # Sketch2 → Cut-Extrude1 (cut, through all)
    with BuildSketch(Plane(origin=(0, 20, 0), x_dir=(1, 0, 0), z_dir=(0, 1, 0))):
        with Locations((0, -631.5)):
            Rectangle(SKETCH2_W, SKETCH2_H)
    extrude(amount=-CUT_EXTRUDE1_DEPTH, mode=Mode.SUBTRACT)


solid = part.part
